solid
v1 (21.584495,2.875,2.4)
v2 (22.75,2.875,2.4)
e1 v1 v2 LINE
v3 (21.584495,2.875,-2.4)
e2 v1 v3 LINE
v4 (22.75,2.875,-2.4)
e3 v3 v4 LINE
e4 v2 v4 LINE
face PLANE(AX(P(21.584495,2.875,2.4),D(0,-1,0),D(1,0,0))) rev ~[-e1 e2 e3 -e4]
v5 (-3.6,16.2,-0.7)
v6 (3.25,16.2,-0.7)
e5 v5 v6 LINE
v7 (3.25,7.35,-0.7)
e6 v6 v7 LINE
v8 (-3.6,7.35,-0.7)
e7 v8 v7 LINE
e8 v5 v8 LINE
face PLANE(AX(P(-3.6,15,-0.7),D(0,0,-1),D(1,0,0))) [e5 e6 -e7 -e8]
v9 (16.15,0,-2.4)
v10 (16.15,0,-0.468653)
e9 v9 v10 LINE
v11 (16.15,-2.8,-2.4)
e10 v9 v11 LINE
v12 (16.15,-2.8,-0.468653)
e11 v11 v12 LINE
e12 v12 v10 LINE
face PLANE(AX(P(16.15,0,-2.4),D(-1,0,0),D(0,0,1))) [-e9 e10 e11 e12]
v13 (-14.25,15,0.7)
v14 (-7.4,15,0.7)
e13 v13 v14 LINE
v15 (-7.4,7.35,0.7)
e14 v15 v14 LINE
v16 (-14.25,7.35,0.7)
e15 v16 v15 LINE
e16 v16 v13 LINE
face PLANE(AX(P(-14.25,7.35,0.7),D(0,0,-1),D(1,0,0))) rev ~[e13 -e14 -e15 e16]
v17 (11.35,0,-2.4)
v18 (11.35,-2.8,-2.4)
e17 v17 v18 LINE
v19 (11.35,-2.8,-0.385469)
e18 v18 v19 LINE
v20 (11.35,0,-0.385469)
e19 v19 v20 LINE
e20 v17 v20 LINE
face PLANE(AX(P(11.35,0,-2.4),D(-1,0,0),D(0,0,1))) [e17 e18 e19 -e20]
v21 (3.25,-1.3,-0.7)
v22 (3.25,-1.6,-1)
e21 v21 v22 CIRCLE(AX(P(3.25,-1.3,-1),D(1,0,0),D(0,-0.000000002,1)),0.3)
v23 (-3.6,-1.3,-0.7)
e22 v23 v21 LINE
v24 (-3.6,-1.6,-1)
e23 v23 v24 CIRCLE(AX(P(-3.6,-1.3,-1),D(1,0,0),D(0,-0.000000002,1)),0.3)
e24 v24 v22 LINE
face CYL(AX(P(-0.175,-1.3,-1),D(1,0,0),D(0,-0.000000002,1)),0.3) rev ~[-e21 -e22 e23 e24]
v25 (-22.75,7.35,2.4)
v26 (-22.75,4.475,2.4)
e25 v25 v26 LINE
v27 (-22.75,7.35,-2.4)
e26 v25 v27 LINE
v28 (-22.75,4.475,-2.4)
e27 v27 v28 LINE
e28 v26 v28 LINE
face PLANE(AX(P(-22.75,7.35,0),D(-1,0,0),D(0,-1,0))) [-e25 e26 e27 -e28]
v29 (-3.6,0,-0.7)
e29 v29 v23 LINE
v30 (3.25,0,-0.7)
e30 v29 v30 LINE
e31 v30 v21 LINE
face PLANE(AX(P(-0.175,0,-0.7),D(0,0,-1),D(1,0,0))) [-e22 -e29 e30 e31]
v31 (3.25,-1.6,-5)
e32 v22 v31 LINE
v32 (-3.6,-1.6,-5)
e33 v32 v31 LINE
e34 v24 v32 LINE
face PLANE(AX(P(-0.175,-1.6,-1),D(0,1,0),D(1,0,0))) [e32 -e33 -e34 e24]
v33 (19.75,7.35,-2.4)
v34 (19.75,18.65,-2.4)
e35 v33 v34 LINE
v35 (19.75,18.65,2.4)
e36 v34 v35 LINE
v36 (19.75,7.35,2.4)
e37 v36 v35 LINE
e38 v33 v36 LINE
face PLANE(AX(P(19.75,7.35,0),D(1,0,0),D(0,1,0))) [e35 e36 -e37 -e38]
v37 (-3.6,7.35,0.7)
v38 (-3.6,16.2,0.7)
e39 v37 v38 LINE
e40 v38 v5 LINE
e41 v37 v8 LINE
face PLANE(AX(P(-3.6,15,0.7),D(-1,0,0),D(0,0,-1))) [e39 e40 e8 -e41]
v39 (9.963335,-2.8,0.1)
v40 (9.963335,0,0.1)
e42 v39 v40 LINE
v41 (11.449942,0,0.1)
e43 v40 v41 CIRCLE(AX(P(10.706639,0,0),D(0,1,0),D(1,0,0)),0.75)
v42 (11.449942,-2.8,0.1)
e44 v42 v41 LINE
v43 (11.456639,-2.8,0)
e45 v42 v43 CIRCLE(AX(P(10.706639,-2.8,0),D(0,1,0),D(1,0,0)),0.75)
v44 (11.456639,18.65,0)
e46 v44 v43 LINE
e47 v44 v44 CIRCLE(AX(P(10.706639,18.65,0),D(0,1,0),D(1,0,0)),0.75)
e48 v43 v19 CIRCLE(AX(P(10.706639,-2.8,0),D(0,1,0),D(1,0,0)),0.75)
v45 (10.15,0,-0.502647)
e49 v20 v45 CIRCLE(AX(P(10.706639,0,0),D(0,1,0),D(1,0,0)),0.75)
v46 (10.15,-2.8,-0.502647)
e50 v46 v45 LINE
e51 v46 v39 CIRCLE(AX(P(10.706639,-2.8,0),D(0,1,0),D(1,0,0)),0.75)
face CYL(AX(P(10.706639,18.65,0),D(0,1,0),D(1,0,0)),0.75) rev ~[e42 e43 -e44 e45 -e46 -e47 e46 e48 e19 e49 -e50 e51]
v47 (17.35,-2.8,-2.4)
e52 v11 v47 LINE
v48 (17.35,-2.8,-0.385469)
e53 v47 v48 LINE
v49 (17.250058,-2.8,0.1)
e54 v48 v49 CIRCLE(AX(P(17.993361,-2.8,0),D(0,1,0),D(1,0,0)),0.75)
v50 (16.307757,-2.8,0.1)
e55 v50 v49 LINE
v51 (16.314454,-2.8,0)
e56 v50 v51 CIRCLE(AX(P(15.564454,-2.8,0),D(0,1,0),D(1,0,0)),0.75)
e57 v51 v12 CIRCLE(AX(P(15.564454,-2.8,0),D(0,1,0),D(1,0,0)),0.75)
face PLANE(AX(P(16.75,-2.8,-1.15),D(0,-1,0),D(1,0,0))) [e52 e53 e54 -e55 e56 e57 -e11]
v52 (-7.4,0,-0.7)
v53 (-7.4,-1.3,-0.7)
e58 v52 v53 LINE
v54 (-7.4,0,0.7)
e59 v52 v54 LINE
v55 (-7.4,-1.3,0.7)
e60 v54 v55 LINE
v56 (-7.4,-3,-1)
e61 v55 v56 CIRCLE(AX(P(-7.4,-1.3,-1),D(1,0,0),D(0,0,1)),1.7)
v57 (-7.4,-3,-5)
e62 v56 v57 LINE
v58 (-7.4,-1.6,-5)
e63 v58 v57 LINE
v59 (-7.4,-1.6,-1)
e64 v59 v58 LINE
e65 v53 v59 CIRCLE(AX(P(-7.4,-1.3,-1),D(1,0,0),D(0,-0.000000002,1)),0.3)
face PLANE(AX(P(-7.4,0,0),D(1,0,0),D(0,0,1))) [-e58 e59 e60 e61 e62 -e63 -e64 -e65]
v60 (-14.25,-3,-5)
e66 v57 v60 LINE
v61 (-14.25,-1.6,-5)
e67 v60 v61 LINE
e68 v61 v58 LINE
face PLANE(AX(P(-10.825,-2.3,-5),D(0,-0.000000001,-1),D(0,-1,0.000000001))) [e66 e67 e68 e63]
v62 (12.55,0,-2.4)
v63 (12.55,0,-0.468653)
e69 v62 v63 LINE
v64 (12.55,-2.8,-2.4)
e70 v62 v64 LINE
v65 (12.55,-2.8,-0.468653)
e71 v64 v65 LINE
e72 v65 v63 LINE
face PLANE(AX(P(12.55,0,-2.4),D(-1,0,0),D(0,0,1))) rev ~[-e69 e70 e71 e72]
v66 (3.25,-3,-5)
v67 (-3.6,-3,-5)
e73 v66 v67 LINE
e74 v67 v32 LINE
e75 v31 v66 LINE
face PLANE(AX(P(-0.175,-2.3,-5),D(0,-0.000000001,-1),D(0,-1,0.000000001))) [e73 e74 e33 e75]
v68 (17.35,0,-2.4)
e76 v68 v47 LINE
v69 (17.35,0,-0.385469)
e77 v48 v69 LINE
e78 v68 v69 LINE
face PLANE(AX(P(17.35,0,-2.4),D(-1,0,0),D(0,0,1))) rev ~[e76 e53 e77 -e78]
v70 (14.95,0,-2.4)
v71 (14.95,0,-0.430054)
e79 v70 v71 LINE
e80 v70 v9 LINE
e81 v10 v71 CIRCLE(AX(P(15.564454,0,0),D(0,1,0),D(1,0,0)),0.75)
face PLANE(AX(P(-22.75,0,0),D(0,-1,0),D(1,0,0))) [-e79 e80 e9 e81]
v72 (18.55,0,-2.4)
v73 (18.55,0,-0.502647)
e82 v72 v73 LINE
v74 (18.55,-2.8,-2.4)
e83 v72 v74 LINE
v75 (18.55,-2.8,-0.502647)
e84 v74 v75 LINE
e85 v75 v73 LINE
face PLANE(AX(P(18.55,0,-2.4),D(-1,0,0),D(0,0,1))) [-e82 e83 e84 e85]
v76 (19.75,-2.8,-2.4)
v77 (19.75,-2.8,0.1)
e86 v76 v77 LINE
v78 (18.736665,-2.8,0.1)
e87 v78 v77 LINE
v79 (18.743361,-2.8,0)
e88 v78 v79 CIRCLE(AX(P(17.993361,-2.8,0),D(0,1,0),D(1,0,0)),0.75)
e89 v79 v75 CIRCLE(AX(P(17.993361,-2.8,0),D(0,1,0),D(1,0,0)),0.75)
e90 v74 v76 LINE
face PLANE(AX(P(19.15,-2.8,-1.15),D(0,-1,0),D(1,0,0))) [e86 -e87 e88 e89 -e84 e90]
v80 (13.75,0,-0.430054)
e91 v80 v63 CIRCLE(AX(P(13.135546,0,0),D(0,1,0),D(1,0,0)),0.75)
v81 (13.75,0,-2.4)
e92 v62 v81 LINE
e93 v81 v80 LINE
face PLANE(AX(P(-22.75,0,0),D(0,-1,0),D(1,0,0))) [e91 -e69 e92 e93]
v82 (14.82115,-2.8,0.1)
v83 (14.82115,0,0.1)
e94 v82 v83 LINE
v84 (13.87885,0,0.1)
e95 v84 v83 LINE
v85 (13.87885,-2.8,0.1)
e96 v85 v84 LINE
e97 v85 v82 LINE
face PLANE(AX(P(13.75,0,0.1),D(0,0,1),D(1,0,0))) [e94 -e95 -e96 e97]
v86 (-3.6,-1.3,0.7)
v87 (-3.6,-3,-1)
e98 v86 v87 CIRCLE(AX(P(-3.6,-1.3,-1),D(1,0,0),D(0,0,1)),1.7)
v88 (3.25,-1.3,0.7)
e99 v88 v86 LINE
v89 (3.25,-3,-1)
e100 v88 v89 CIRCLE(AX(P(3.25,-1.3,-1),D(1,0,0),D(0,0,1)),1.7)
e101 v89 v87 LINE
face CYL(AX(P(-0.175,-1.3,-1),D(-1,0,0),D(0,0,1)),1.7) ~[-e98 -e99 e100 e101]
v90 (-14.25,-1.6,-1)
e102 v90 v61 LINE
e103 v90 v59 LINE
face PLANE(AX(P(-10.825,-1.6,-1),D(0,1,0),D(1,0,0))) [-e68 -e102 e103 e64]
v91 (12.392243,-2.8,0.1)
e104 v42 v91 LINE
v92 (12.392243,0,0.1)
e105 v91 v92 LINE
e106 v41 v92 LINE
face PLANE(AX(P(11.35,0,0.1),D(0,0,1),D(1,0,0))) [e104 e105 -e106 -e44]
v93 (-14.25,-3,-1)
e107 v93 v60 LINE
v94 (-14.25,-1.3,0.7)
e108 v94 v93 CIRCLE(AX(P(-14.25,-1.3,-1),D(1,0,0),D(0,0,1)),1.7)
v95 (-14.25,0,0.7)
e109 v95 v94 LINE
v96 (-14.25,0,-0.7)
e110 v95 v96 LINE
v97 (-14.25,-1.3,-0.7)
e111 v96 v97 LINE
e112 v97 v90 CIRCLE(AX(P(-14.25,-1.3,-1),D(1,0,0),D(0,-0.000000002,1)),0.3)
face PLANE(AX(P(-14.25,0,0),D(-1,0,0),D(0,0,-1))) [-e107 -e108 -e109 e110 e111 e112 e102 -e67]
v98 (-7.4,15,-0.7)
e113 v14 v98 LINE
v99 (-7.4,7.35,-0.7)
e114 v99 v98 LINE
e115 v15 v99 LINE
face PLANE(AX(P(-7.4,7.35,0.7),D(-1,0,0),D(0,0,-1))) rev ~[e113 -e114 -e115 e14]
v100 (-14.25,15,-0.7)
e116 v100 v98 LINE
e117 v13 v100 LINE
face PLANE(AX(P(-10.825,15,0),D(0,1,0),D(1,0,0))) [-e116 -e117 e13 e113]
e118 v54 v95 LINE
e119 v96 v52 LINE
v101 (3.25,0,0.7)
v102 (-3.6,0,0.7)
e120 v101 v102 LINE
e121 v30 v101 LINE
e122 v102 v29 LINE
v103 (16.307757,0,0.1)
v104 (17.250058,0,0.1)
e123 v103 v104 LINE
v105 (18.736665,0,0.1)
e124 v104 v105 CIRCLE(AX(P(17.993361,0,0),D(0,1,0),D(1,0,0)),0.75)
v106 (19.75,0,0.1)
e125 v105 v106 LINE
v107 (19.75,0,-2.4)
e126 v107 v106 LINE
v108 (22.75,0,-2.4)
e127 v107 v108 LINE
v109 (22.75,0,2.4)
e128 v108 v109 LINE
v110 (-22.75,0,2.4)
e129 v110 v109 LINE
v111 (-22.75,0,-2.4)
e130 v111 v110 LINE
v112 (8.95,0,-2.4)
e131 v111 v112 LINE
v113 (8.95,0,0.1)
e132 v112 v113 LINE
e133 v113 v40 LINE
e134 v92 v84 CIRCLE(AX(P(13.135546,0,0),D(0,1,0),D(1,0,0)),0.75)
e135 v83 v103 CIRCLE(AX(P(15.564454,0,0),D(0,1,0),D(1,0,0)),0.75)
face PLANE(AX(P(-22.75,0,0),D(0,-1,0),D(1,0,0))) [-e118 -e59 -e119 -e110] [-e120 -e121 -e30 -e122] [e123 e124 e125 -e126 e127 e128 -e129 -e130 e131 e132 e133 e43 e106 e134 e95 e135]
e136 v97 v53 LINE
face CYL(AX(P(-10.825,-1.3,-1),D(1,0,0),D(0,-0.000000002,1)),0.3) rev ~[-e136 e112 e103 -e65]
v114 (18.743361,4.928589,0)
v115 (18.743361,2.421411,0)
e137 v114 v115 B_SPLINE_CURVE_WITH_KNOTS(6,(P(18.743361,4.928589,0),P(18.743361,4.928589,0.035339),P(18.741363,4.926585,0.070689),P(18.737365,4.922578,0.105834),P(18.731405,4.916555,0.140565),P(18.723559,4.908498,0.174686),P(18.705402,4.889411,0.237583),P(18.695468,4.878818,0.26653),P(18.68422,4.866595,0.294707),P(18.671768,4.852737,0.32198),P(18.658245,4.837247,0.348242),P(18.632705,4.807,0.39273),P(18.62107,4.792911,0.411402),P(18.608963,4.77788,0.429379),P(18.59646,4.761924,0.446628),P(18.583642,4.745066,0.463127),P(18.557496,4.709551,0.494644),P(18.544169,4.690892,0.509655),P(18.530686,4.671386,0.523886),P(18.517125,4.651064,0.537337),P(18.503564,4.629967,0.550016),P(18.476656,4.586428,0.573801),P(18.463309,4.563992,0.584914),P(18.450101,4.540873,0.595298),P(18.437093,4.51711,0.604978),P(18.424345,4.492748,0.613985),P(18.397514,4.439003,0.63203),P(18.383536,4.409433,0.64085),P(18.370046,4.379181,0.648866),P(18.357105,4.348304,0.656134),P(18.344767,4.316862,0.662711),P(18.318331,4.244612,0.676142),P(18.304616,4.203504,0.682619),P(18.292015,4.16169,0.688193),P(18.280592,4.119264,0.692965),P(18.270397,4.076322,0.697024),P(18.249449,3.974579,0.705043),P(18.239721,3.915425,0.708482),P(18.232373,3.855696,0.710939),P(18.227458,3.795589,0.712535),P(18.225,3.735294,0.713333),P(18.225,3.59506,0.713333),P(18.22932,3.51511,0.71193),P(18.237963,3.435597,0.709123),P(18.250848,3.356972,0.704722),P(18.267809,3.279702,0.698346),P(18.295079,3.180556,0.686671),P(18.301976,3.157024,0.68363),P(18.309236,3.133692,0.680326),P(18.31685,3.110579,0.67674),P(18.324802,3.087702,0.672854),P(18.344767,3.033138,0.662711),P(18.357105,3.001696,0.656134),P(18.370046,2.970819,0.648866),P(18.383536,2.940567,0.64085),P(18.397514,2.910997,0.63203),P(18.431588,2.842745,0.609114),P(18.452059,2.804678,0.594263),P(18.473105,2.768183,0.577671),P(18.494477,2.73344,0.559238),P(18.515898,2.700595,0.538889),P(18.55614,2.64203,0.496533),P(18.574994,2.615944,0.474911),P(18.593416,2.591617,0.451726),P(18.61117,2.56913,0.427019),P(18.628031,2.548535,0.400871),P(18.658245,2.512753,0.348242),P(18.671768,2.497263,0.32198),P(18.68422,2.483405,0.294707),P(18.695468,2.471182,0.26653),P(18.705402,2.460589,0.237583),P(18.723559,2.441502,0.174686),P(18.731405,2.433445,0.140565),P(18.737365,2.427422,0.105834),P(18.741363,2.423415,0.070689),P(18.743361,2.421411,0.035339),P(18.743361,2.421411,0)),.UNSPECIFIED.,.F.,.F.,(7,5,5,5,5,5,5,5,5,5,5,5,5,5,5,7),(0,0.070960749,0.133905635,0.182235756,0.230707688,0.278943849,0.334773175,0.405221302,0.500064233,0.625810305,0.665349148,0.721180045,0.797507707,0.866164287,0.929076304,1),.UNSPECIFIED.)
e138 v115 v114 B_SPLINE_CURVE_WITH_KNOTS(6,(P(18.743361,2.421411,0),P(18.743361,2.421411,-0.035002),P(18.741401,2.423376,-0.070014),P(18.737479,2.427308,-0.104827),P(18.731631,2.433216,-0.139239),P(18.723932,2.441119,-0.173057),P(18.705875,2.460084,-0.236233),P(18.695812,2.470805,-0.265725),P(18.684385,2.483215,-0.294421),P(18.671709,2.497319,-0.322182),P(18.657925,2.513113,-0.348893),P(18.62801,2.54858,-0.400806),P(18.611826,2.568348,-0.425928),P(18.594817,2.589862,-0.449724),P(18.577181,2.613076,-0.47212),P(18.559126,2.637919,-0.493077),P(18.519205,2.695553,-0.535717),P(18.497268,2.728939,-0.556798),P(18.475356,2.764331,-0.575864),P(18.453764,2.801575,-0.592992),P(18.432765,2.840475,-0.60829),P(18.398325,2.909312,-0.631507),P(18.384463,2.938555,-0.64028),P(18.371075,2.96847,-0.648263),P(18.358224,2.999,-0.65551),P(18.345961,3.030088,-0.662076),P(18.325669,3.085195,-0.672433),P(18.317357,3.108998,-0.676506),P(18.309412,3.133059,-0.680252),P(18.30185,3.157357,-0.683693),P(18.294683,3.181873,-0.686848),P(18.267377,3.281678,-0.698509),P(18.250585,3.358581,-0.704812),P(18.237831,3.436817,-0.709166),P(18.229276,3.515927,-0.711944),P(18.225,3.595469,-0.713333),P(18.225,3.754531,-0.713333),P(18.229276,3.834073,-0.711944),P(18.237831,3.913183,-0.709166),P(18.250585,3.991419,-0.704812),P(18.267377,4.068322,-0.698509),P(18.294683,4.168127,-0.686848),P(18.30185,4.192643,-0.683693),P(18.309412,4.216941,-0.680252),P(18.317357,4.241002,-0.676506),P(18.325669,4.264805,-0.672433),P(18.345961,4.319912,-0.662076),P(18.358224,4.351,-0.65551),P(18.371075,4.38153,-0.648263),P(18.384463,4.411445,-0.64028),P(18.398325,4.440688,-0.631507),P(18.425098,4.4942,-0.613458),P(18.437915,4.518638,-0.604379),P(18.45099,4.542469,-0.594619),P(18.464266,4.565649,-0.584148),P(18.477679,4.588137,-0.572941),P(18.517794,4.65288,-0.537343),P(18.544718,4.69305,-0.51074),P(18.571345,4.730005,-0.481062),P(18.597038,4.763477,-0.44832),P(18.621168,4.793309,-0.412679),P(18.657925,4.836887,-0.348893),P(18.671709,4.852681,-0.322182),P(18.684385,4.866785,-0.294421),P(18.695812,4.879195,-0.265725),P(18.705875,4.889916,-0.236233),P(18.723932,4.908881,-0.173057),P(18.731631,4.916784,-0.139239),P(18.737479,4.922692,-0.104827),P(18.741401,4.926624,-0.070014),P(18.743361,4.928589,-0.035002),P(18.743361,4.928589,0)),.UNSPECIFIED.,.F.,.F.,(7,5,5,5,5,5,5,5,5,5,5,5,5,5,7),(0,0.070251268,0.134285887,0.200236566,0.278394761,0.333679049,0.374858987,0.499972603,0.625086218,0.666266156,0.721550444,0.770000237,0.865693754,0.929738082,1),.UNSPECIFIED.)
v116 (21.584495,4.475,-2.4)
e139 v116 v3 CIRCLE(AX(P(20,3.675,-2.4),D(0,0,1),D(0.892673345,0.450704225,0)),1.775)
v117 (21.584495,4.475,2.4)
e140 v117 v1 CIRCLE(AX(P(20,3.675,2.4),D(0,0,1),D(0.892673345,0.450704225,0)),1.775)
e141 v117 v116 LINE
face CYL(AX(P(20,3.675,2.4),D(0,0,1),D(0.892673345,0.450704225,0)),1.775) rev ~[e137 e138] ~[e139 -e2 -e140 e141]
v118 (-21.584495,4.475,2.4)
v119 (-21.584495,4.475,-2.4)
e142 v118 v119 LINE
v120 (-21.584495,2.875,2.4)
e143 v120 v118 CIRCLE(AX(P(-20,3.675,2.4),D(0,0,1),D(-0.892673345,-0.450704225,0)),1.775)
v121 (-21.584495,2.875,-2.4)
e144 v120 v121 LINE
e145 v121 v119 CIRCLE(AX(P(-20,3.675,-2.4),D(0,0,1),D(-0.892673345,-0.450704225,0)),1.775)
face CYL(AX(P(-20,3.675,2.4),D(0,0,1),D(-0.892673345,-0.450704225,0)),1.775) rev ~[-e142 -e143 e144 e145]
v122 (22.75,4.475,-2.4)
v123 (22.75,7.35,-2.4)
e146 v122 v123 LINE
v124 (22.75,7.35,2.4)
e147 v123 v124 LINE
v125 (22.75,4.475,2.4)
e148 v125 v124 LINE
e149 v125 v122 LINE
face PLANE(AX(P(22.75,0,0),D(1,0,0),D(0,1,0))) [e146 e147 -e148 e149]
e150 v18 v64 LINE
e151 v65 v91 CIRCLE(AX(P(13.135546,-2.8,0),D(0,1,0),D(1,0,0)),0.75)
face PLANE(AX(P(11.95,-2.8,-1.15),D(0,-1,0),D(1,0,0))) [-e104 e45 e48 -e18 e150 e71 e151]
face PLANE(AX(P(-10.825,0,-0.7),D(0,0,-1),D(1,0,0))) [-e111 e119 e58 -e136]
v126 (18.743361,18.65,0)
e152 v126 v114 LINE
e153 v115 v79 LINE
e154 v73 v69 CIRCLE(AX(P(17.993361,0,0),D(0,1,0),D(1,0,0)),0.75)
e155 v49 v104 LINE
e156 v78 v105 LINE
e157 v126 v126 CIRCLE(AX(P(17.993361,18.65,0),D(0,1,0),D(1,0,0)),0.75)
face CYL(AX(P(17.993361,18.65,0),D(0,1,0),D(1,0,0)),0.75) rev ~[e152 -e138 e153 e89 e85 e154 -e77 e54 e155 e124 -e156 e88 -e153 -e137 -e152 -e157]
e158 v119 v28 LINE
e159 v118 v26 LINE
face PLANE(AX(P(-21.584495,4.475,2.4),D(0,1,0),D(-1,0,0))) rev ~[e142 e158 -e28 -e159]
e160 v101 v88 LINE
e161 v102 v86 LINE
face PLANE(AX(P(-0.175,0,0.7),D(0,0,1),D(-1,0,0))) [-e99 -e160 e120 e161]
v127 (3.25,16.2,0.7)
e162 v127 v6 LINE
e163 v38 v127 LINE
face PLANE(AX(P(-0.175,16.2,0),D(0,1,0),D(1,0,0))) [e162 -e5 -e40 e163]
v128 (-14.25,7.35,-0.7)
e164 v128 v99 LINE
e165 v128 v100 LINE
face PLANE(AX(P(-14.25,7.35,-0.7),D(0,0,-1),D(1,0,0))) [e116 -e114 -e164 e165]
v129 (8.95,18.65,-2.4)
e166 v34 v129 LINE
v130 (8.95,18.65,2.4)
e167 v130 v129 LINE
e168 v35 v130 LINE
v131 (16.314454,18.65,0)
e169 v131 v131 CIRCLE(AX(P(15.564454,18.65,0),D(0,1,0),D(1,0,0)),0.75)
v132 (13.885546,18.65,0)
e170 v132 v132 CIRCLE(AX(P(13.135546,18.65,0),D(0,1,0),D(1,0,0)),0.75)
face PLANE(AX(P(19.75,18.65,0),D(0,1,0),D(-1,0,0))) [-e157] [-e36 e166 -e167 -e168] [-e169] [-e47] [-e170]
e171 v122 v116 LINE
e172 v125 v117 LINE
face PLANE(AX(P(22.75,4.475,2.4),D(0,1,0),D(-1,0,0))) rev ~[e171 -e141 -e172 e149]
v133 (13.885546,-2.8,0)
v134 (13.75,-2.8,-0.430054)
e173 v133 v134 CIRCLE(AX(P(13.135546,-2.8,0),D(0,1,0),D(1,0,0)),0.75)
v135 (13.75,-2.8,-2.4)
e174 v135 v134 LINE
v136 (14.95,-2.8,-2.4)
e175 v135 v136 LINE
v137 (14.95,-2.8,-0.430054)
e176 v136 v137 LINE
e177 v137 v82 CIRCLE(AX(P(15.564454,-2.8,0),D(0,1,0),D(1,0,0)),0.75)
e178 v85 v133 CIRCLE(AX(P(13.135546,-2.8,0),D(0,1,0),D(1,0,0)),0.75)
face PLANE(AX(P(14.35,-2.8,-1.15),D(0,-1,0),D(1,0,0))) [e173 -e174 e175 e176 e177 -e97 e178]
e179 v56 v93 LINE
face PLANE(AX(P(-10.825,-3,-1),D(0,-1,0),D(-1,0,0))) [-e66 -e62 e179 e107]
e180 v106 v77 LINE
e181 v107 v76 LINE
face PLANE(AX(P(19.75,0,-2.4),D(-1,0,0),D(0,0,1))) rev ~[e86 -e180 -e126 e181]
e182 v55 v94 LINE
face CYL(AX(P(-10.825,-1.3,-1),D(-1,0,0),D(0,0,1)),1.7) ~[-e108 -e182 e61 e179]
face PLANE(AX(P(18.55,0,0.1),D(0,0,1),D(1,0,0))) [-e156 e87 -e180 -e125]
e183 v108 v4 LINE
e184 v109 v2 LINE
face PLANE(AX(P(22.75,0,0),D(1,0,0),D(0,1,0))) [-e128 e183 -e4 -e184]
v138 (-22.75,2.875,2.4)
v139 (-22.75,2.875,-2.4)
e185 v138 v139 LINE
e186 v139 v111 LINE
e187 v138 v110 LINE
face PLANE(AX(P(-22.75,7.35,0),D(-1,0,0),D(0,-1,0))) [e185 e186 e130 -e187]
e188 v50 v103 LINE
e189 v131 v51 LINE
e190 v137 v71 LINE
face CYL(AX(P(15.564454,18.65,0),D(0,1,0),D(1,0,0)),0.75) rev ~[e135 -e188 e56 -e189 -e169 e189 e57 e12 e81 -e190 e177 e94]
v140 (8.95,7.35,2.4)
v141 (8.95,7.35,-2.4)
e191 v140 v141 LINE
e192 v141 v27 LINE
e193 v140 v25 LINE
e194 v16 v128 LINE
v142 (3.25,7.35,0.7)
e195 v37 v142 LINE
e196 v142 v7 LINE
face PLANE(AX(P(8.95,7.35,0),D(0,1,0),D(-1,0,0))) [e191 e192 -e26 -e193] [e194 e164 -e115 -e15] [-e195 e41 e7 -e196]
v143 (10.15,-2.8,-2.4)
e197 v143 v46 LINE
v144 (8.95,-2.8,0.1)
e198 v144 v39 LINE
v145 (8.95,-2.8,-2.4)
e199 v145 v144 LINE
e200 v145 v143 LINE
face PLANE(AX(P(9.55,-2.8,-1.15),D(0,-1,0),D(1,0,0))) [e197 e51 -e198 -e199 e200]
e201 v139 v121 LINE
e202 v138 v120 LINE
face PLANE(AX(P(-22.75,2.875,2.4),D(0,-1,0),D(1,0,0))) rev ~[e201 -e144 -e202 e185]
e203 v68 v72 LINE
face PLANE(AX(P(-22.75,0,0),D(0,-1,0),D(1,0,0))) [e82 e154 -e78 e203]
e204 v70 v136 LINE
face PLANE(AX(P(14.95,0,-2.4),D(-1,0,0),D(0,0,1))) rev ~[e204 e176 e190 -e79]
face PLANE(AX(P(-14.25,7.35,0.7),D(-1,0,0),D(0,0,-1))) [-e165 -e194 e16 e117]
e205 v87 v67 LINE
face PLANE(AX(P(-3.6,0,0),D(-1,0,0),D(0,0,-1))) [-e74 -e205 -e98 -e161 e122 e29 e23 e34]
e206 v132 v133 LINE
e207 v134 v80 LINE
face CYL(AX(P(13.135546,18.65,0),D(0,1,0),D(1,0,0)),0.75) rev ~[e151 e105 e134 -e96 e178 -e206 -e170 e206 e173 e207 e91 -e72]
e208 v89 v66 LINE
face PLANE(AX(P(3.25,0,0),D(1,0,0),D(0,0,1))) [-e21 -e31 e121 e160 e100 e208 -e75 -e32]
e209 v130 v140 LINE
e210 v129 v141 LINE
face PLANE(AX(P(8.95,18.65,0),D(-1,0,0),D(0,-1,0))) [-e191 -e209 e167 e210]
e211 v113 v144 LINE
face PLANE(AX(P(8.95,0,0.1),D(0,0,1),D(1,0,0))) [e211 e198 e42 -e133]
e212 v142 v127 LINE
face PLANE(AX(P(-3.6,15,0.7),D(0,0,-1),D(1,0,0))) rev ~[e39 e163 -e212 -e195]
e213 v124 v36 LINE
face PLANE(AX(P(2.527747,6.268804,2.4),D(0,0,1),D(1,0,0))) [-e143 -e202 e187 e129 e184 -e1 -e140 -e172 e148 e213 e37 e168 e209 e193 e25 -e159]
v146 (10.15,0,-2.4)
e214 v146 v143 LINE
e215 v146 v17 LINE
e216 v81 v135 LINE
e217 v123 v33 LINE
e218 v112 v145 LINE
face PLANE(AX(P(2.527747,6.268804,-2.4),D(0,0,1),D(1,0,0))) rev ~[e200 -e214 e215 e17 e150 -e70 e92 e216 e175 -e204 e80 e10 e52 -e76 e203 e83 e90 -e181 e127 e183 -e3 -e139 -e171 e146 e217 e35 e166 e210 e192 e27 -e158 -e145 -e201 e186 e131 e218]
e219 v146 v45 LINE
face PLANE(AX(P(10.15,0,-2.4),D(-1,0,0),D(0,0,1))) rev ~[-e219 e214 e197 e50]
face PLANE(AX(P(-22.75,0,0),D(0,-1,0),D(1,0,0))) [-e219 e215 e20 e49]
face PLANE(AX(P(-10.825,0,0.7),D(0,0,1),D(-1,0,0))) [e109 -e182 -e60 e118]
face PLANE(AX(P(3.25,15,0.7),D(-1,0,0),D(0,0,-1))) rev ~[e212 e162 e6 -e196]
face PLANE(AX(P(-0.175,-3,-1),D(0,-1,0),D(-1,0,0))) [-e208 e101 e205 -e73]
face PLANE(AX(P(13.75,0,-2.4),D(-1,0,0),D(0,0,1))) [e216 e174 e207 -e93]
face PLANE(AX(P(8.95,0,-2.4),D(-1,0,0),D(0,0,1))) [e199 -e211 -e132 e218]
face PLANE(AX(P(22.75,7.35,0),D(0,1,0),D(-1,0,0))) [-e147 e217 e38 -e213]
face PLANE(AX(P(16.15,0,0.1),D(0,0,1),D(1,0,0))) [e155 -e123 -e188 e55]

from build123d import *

# Parameters (mm, degrees)
EXTRUDE_1_DEPTH     = 2.4
SKETCH_2_W          = 6.85
SKETCH_2_H          = 1.4
EXTRUDE_2_DEPTH     = 7.65
SKETCH_3_W          = 6.85
SKETCH_3_H          = 1.4
EXTRUDE_3_DEPTH     = 1.2
SKETCH_5_W          = 6.85
SKETCH_5_H          = 1.4
SKETCH_6_W          = 1.2
SKETCH_6_H          = 2.5
EXTRUDE_4_DEPTH     = 2.8
CUT_EXTRUDE_1_DEPTH = 8.4
SKETCH_8_R          = 0.75
CUT_EXTRUDE_2_DEPTH = 22.65


with BuildPart() as part:
    # 草图1 → 凸台-拉伸1 (new body, symmetric)
    with BuildSketch(Plane.XY):
        Polygon((-22.75, 7.35), (-22.75, 0), (22.75, 0), (22.75, 7.35), (19.75, 7.35), (19.75, 18.65), (8.95, 18.65), (8.95, 7.35), align=None)
    extrude(amount=EXTRUDE_1_DEPTH, both=True)

    # 草图2 → 凸台-拉伸2 (add)
    with BuildSketch(Plane(origin=(0, 7.35, 0), x_dir=(1, 0, 0), z_dir=(0, 1, 0))):
        with Locations((-10.825, 0)):
            Rectangle(SKETCH_2_W, SKETCH_2_H)
        with Locations((-0.175, 0)):
            Rectangle(SKETCH_2_W, SKETCH_2_H)
    extrude(amount=EXTRUDE_2_DEPTH)

    # 草图3 → 凸台-拉伸3 (add)
    with BuildSketch(Plane(origin=(0, 15, 0), x_dir=(1, 0, 0), z_dir=(0, 1, 0))):
        with Locations((-0.175, 0)):
            Rectangle(SKETCH_3_W, SKETCH_3_H)
    extrude(amount=EXTRUDE_3_DEPTH)

    # 扫描1: sweep along a path in 草图4
    with BuildLine(Plane(origin=(0, 0, 0), x_dir=(0, 0, -1), z_dir=(1, 0, 0))) as sweep_1_path:
        Line((0, 0), (0, -1.3))
        ThreePointArc((0, -1.3), (0.292893219, -2.007106781), (1, -2.3))
        Line((1, -2.3), (5, -2.3))
    # 草图5 → 扫描1 (sweep)
    with BuildSketch(Plane.XZ):
        with Locations((-0.175, 0)):
            Rectangle(SKETCH_5_W, SKETCH_5_H)
        with Locations((-10.825, 0)):
            Rectangle(SKETCH_5_W, SKETCH_5_H)
    sweep(path=sweep_1_path.line)

    # 草图6 → 凸台-拉伸4 (add)
    with BuildSketch(Plane.XZ):
        with Locations((16.75, -1.15)):
            Rectangle(SKETCH_6_W, SKETCH_6_H)
        with Locations((19.15, -1.15)):
            Rectangle(SKETCH_6_W, SKETCH_6_H)
        with Locations((14.35, -1.15)):
            Rectangle(SKETCH_6_W, SKETCH_6_H)
        with Locations((11.95, -1.15)):
            Rectangle(SKETCH_6_W, SKETCH_6_H)
        with Locations((9.55, -1.15)):
            Rectangle(SKETCH_6_W, SKETCH_6_H)
    extrude(amount=EXTRUDE_4_DEPTH)

    # 草图7 → 切除-拉伸1 (cut, through all)
    with BuildSketch(Plane.XY.offset(2.4)):
        with BuildLine():
            Line((-21.584495188, 4.475), (-22.75, 4.475))
            Line((-22.75, 4.475), (-22.75, 2.875))
            Line((-22.75, 2.875), (-21.584495188, 2.875))
            ThreePointArc((-21.584495188, 2.875), (-18.225, 3.675), (-21.584495188, 4.475))
        make_face()
        with BuildLine():
            Line((22.75, 2.875), (22.75, 4.475))
            Line((22.75, 4.475), (21.584495188, 4.475))
            ThreePointArc((21.584495188, 4.475), (18.225, 3.675), (21.584495188, 2.875))
            Line((21.584495188, 2.875), (22.75, 2.875))
        make_face()
    extrude(amount=-CUT_EXTRUDE_1_DEPTH, mode=Mode.SUBTRACT)

    # 草图8 → 切除-拉伸2 (cut, through all)
    with BuildSketch(Plane(origin=(0, 18.65, 0), x_dir=(1, 0, 0), z_dir=(0, 1, 0))):
        with Locations((10.706638524, 0)):
            Circle(SKETCH_8_R)
        with Locations((13.135546175, 0)):
            Circle(SKETCH_8_R)
        with Locations((15.564453825, 0)):
            Circle(SKETCH_8_R)
        with Locations((17.993361476, 0)):
            Circle(SKETCH_8_R)
    extrude(amount=-CUT_EXTRUDE_2_DEPTH, mode=Mode.SUBTRACT)


solid = part.part
